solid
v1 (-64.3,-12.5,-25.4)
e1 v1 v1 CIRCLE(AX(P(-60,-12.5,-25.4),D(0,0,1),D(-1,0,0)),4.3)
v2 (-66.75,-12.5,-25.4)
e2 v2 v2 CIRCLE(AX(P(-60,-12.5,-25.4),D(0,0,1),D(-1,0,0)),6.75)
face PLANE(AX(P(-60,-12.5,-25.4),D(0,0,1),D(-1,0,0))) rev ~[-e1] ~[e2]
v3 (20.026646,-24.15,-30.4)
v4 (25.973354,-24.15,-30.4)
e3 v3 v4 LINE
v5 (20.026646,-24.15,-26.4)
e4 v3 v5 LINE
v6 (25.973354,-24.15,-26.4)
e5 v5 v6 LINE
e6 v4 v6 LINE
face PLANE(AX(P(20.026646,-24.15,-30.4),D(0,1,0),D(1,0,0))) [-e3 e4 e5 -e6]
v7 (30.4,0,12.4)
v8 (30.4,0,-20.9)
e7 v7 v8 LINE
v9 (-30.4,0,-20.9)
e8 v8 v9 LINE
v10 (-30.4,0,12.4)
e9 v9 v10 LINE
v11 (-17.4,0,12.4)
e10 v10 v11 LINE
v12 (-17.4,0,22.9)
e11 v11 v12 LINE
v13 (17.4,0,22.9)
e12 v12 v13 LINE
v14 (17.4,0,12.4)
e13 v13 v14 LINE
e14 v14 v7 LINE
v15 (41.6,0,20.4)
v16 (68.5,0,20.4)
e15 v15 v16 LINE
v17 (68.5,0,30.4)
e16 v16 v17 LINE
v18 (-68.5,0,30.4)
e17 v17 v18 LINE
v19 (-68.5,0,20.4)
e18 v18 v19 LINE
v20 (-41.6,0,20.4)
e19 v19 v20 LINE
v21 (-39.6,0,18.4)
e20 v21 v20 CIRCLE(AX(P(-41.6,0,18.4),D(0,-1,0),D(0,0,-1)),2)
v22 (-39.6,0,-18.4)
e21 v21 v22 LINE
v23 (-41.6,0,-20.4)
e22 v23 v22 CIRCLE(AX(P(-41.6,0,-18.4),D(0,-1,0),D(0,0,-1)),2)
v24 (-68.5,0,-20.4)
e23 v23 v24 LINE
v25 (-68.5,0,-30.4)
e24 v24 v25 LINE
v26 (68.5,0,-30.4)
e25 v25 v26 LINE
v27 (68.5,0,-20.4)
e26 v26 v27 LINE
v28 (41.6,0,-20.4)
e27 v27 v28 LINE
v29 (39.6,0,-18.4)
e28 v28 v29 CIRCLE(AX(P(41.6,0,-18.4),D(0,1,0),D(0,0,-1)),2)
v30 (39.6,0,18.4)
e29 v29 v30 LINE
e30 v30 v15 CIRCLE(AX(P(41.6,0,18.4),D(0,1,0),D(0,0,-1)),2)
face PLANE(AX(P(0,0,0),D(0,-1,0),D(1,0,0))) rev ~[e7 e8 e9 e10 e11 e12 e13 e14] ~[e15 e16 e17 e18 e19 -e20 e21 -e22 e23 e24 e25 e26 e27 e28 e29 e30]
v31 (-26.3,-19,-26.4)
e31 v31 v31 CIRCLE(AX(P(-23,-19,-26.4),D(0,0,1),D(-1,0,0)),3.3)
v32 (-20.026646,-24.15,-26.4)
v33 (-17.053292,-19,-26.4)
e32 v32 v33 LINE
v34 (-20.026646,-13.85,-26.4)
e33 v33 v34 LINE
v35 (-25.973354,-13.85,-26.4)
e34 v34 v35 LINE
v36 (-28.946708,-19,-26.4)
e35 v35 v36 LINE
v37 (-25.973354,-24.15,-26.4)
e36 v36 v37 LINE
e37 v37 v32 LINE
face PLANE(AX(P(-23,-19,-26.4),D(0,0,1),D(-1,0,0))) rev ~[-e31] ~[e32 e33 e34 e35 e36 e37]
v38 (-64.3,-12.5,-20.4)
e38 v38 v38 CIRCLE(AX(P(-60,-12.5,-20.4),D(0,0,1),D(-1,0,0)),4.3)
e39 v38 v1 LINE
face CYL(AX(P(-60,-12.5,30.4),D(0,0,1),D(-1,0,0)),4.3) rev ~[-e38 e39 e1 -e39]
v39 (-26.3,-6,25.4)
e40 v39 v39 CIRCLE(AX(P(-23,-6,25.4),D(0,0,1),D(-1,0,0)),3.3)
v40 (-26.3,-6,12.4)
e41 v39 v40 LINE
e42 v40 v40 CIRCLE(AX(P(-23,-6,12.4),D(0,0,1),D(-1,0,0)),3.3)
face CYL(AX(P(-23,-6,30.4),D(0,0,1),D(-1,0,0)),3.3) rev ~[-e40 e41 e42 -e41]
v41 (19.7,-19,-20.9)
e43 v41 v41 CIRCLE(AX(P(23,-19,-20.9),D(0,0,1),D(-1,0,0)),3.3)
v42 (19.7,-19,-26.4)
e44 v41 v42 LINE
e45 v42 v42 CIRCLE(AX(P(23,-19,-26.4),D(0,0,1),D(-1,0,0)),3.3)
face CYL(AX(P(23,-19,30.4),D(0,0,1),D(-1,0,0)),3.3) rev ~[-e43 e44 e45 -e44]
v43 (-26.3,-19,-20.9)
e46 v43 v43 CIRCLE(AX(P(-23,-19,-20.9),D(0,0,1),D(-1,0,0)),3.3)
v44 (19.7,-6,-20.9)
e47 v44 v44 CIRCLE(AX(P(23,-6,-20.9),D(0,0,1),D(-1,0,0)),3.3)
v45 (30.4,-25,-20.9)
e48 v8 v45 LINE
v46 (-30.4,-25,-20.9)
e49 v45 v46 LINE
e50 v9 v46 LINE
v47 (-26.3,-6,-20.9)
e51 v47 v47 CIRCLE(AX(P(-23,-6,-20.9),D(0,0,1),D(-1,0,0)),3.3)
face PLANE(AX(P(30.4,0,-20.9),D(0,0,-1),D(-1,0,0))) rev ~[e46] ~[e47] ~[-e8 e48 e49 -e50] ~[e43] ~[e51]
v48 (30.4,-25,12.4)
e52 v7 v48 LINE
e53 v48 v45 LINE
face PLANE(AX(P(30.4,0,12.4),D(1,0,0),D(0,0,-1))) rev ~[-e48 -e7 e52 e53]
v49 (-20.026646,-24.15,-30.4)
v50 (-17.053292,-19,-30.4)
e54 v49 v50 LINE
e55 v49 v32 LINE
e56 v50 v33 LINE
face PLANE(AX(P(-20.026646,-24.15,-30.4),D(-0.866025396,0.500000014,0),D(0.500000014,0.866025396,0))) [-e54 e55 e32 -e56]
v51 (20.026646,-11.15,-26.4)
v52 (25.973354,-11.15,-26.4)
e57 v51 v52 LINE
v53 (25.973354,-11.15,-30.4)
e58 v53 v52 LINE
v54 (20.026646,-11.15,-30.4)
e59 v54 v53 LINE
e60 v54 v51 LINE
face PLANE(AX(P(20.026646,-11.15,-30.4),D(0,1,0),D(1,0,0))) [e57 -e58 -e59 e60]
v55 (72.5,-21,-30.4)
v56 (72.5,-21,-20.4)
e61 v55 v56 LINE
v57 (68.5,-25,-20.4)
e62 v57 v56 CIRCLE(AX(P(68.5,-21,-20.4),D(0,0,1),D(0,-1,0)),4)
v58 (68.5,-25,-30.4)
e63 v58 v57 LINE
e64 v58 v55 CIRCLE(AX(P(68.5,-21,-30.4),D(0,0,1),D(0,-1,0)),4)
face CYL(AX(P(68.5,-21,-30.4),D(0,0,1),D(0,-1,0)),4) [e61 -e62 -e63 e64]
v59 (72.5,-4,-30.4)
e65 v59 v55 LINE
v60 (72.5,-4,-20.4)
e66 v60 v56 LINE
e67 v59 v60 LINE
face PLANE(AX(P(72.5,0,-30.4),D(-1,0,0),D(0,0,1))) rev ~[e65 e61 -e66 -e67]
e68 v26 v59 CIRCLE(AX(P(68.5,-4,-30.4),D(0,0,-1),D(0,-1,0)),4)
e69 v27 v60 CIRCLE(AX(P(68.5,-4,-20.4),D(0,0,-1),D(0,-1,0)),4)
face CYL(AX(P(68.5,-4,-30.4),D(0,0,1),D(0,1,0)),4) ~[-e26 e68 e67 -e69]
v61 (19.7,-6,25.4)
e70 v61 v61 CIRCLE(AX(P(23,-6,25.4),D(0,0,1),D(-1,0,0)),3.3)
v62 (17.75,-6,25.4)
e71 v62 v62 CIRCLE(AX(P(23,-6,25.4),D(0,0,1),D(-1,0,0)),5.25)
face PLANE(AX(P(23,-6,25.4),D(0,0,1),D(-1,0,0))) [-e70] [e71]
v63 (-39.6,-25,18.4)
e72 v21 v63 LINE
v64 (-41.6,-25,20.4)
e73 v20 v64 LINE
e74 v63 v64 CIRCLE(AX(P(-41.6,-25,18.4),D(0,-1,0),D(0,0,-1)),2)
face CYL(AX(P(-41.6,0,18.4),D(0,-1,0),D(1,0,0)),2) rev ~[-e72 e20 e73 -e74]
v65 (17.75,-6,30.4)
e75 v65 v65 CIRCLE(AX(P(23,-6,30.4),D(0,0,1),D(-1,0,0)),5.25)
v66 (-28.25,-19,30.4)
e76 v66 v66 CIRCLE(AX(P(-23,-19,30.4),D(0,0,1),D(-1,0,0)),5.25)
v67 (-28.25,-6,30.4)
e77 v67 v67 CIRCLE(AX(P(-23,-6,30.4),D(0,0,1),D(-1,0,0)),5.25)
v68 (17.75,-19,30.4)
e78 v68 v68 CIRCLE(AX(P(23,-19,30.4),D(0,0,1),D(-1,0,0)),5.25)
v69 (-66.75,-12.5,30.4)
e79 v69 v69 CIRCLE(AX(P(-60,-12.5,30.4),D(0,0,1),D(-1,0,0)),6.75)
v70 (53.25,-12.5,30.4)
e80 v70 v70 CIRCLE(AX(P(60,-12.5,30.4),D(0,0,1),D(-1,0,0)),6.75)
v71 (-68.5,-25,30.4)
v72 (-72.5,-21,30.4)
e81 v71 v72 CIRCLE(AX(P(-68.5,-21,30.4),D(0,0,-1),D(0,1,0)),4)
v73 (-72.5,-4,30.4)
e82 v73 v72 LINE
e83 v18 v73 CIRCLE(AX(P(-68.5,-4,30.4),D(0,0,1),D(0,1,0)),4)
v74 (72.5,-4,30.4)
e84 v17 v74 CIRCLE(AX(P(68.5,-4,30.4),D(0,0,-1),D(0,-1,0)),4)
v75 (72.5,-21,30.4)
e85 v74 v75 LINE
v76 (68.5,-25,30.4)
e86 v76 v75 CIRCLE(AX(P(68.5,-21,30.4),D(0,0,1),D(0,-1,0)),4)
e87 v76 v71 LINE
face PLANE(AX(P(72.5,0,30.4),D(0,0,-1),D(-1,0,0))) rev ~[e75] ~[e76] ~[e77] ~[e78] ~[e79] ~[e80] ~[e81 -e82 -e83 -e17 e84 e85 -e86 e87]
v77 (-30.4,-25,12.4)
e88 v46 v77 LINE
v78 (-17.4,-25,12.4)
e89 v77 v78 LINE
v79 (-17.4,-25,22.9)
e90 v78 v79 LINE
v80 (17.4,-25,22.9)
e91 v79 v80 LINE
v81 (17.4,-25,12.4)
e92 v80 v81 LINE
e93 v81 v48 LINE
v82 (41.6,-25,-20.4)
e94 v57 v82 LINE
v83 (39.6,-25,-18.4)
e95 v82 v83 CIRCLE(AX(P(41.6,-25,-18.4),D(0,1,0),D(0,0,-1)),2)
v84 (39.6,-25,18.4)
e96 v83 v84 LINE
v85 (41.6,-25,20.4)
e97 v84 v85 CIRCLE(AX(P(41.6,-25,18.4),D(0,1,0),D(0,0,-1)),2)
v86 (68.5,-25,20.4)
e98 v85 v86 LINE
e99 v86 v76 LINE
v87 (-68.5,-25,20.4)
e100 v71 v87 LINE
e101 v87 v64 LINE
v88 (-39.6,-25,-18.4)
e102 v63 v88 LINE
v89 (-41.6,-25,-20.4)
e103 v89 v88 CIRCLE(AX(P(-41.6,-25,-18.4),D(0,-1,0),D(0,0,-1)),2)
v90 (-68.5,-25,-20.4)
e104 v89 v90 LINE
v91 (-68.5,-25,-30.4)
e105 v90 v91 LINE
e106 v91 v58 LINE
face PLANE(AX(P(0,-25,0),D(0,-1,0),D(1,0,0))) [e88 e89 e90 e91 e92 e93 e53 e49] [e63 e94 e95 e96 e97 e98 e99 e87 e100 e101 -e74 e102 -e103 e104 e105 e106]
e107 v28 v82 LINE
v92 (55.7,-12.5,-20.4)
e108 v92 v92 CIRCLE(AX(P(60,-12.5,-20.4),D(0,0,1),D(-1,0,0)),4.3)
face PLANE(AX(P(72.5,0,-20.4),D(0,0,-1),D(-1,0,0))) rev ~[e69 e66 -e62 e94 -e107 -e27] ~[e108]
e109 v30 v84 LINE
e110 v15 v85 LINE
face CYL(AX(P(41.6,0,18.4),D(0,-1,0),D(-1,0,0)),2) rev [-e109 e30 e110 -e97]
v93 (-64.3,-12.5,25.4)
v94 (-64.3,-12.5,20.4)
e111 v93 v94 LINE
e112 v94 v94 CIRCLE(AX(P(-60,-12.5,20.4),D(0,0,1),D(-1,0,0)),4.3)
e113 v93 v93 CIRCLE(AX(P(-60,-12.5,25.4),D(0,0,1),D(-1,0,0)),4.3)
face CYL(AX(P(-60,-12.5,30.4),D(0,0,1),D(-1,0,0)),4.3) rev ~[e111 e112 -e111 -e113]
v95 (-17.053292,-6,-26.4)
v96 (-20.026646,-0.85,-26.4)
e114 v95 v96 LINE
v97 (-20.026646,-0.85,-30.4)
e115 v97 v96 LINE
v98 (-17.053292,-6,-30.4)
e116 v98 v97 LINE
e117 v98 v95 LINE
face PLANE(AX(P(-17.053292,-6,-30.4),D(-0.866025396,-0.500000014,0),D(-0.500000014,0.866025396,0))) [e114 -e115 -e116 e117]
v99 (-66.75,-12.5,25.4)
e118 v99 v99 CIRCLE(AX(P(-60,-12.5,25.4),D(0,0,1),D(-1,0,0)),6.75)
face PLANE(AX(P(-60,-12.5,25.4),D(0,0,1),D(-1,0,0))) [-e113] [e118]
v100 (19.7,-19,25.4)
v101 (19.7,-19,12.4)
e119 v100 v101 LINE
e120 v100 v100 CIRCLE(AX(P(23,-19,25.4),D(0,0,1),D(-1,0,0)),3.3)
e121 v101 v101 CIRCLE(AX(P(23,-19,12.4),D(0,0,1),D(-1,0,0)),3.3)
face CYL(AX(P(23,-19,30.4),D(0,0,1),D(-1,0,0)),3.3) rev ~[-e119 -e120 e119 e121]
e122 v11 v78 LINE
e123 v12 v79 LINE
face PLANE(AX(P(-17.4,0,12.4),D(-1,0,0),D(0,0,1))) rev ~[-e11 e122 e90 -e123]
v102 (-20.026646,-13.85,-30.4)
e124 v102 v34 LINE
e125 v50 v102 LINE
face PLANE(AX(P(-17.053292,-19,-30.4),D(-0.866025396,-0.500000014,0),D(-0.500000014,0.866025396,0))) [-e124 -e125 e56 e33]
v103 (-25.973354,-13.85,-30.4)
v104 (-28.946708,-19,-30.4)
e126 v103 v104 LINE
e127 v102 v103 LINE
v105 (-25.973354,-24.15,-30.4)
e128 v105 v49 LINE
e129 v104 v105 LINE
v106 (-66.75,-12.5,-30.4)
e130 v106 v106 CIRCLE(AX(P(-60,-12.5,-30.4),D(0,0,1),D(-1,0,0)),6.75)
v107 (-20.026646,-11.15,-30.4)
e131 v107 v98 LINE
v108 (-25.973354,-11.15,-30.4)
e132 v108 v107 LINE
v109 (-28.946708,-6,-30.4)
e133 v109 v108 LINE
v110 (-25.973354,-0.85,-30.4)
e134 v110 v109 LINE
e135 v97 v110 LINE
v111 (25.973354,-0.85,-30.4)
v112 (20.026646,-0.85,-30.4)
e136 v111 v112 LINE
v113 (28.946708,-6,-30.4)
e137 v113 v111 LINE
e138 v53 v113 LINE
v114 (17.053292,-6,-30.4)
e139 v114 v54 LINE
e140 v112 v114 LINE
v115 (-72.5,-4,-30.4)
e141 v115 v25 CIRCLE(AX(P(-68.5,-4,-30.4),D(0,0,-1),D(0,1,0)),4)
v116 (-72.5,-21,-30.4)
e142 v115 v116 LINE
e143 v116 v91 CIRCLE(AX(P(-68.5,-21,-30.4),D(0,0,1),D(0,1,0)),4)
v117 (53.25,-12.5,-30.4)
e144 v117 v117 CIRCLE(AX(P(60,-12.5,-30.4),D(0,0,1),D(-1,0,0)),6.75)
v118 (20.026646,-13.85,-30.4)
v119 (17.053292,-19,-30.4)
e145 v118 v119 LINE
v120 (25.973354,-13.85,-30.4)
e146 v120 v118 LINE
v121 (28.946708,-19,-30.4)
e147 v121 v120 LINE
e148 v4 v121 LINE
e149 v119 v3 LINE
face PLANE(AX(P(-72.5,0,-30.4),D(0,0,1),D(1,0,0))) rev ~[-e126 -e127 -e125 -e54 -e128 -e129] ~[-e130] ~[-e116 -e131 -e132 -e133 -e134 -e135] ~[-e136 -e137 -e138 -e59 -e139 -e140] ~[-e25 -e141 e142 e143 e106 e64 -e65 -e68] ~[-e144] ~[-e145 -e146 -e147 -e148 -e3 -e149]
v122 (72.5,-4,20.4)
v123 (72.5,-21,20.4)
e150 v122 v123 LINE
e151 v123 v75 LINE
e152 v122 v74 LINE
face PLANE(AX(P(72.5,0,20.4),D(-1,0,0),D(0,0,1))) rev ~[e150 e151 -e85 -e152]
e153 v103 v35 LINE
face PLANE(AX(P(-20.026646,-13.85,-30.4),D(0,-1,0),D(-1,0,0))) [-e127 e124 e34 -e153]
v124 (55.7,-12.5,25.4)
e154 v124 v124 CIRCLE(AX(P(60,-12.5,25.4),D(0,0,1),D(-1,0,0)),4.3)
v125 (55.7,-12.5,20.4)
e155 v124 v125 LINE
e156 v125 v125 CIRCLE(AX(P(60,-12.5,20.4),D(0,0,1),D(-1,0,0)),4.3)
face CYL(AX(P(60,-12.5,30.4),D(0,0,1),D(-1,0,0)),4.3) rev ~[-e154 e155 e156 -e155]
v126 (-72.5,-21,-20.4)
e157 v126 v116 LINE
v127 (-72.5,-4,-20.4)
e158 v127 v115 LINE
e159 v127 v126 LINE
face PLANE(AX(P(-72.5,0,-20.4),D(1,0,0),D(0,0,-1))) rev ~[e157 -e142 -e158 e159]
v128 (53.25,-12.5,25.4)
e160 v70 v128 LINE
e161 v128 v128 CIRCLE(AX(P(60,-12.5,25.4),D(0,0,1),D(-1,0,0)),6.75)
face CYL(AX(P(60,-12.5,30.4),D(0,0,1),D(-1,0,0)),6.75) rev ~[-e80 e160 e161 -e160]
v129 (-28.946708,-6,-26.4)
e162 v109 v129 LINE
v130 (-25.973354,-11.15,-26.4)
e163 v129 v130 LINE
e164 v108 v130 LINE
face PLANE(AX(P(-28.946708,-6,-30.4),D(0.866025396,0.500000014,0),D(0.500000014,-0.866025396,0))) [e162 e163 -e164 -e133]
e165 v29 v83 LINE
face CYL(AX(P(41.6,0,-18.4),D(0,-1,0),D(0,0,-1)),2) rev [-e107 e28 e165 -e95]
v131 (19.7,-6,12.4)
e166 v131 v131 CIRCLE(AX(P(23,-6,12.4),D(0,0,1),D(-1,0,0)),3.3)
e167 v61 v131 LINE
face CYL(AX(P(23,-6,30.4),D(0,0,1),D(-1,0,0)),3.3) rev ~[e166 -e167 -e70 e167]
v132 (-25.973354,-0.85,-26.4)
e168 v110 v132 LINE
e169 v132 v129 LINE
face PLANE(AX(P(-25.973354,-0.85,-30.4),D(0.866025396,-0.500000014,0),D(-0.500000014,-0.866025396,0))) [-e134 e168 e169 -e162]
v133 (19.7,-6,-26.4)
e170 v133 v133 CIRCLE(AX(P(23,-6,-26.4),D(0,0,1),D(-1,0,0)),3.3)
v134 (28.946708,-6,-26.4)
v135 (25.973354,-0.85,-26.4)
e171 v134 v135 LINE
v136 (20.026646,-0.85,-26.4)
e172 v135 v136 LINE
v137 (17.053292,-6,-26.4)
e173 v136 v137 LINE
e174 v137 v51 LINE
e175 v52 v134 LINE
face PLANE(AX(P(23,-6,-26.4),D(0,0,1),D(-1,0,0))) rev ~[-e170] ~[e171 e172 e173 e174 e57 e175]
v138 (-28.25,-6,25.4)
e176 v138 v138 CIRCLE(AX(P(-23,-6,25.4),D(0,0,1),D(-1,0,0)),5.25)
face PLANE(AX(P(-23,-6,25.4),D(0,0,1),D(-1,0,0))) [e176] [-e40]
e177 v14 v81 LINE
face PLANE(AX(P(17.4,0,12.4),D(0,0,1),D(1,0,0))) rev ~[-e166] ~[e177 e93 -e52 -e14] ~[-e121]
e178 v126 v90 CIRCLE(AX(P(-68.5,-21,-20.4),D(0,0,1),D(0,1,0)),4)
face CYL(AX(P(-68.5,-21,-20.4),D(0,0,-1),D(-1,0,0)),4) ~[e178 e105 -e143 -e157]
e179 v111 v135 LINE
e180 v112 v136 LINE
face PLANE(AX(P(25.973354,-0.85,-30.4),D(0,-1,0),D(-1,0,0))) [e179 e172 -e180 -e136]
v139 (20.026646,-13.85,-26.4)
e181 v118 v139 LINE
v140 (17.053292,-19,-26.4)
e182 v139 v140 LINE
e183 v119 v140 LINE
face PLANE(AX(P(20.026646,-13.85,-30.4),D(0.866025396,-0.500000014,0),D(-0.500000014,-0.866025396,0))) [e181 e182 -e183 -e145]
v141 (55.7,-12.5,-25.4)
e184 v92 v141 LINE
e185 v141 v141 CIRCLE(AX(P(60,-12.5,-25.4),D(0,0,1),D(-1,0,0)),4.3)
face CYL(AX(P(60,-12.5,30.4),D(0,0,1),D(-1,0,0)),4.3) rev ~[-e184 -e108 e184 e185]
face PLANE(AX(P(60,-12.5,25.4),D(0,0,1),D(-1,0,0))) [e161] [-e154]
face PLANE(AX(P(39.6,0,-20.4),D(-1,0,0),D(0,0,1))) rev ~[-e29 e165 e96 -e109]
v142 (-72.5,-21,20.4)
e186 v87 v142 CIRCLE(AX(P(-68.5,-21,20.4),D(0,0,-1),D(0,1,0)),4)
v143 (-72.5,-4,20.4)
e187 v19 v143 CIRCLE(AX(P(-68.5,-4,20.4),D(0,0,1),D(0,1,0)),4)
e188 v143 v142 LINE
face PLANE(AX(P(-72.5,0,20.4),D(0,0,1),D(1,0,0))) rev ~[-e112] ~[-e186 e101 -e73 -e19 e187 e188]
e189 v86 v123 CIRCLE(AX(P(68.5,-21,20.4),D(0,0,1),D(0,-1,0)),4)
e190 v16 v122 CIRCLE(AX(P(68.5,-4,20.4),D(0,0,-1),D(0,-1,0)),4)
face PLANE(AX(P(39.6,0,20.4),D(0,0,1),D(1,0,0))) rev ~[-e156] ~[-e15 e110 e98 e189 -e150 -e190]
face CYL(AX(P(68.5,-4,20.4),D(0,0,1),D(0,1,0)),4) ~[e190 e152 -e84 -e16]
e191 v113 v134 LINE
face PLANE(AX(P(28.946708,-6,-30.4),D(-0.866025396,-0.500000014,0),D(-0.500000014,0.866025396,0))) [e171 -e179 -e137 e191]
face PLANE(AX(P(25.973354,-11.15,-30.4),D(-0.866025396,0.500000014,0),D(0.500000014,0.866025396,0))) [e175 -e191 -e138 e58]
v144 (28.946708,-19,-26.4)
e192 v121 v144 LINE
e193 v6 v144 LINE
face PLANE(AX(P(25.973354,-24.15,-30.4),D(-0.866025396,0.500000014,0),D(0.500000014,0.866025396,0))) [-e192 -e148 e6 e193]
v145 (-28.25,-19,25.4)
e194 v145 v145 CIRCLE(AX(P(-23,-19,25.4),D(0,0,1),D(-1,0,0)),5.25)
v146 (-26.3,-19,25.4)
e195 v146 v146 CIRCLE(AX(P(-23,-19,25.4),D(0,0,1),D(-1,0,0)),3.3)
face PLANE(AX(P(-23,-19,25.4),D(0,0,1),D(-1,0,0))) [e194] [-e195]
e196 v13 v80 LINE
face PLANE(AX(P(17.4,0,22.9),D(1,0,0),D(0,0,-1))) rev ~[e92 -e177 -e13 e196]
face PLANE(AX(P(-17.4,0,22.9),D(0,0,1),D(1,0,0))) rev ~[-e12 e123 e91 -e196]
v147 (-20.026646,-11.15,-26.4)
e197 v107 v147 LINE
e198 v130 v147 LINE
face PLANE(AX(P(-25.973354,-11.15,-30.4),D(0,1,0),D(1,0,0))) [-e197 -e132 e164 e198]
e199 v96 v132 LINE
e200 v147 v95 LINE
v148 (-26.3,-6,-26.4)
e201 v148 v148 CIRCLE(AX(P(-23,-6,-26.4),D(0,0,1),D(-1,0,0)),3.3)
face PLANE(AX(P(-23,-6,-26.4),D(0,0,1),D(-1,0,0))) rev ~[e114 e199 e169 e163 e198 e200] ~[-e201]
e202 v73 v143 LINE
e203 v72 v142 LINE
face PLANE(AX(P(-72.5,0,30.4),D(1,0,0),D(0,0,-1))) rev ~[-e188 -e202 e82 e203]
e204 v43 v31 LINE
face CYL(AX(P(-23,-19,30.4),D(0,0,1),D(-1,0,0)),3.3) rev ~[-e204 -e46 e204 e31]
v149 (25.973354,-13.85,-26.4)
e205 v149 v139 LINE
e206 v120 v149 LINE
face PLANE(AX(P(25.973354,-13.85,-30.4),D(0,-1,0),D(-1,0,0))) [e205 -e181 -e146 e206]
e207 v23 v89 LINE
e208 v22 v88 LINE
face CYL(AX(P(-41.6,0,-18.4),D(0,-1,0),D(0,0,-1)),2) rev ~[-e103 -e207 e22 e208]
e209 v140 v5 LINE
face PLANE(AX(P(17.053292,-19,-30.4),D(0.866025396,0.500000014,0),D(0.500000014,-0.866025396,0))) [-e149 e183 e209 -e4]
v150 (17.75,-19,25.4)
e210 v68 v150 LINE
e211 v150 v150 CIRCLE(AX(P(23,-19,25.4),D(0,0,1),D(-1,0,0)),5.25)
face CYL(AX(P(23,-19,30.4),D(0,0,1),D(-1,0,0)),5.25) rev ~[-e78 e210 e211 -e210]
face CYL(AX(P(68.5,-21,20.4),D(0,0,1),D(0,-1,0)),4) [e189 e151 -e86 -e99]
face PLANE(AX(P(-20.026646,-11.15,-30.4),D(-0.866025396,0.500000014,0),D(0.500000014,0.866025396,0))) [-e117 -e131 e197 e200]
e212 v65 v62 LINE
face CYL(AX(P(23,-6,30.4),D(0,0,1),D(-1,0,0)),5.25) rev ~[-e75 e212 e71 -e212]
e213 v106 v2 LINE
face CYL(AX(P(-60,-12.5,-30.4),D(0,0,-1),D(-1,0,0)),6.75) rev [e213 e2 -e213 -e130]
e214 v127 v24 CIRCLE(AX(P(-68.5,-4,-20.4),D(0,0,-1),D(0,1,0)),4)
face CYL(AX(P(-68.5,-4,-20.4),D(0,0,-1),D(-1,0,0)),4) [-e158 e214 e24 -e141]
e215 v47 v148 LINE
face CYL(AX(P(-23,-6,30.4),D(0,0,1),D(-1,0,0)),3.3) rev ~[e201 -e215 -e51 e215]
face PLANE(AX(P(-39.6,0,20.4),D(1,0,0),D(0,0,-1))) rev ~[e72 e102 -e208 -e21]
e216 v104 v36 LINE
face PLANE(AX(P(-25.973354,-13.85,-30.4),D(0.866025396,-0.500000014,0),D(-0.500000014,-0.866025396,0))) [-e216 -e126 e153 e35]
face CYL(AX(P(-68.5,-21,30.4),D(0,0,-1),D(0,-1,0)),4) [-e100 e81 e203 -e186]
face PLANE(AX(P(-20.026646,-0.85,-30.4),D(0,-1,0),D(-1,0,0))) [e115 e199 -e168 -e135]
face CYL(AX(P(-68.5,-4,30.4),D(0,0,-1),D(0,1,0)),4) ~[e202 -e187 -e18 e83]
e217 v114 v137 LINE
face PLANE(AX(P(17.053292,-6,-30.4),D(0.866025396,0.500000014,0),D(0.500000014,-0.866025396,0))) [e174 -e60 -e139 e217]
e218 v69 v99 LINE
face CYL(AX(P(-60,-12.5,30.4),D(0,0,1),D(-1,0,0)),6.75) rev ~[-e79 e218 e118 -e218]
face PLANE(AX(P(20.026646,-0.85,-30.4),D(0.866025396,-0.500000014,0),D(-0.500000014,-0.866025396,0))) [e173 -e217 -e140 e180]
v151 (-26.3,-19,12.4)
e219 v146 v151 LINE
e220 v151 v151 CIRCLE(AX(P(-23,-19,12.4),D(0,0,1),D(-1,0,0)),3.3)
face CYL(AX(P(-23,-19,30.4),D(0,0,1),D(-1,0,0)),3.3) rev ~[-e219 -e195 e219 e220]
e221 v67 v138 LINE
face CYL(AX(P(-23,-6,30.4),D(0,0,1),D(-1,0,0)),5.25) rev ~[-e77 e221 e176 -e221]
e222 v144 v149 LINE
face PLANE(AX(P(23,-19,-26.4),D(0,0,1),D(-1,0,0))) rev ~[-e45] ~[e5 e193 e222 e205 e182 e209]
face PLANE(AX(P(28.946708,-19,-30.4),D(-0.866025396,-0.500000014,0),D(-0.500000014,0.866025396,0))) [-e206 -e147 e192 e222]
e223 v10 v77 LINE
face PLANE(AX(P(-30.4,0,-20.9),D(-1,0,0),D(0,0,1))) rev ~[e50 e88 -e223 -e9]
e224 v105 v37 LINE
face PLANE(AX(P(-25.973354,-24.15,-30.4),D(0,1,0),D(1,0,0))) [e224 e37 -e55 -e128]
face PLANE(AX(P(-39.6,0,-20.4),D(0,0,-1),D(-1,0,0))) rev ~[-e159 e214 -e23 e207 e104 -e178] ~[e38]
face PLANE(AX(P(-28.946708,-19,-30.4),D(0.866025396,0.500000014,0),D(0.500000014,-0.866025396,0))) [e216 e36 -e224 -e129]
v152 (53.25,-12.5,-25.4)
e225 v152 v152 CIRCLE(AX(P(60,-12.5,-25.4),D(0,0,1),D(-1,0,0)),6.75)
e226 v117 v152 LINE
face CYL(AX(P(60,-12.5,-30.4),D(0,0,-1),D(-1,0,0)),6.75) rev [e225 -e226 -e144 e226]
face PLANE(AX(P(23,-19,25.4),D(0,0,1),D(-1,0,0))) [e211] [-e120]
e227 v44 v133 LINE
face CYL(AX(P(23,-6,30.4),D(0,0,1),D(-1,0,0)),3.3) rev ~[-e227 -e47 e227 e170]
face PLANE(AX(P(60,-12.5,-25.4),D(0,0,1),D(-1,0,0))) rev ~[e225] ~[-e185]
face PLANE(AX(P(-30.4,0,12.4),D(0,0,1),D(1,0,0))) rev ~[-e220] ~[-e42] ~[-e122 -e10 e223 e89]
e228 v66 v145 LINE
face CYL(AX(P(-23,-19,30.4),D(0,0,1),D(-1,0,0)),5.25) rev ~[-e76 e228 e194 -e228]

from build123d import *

# Parameters (mm, degrees)
PAD_DEPTH       = 25
SKETCH001_R     = 4.3
POCKET_DEPTH    = 60.801
SKETCH002_R     = 3.3
POCKET001_DEPTH = 60.801
FILLET_R        = 4
FILLET001_R     = 2
SKETCH003_R     = 6.75
POCKET002_DEPTH = 5
SKETCH004_R     = 6.75
POCKET003_DEPTH = 5
SKETCH005_R     = 5.25
POCKET004_DEPTH = 5
POCKET005_DEPTH = 4


with BuildPart() as part:
    # Sketch → Pad (new body)
    with BuildSketch(Plane.XZ):
        Polygon((-72.5, -30.4), (72.5, -30.4), (72.5, -20.4), (39.6, -20.4), (39.6, 20.4), (72.5, 20.4), (72.5, 30.4), (-72.5, 30.4), (-72.5, 20.4), (-39.6, 20.4), (-39.6, -20.4), (-72.5, -20.4), align=None)
        Polygon((-30.4, -20.9), (-30.4, 12.4), (-17.4, 12.4), (-17.4, 22.9), (17.4, 22.9), (17.4, 12.4), (30.4, 12.4), (30.4, -20.9), align=None, mode=Mode.SUBTRACT)
    extrude(amount=PAD_DEPTH)

    # Sketch001 (on Face7 of Pad) → Pocket (cut, through all)
    with BuildSketch(Plane(origin=(0, 0, 30.4), x_dir=(-1, 0, 0), z_dir=(0, 0, 1))):
        with Locations((-60, 12.5)):
            Circle(SKETCH001_R)
        with Locations((60, 12.5)):
            Circle(SKETCH001_R)
    extrude(amount=-POCKET_DEPTH, mode=Mode.SUBTRACT)

    # Sketch002 (on Face13 of Pocket) → Pocket001 (cut, through all)
    with BuildSketch(Plane(origin=(0, 0, 30.4), x_dir=(-1, 0, 0), z_dir=(0, 0, 1))):
        with Locations((-23, 6)):
            Circle(SKETCH002_R)
        with Locations((-23, 19)):
            Circle(SKETCH002_R)
        with Locations((23, 19)):
            Circle(SKETCH002_R)
        with Locations((23, 6)):
            Circle(SKETCH002_R)
    extrude(amount=-POCKET001_DEPTH, mode=Mode.SUBTRACT)

    # Fillet
    fillet_edges = [part.edges().sort_by_distance(p)[0] for p in [
        (-72.5, -25, 25.4),
        (-72.5, -25, -25.4),
        (72.5, -25, -25.4),
        (72.5, -25, 25.4),
        (-72.5, 0, 25.4),
        (-72.5, 0, -25.4),
        (72.5, 0, -25.4),
        (72.5, 0, 25.4),
    ]]
    fillet(fillet_edges, radius=FILLET_R)

    # Fillet001
    fillet001_edges = [part.edges().sort_by_distance(p)[0] for p in [
        (-39.6, -12.5, -20.4),
        (-39.6, -12.5, 20.4),
        (39.6, -12.5, 20.4),
        (39.6, -12.5, -20.4),
    ]]
    fillet(fillet001_edges, radius=FILLET001_R)

    # Sketch003 (on Face13 of Fillet001) → Pocket002 (cut)
    with BuildSketch(Plane(origin=(0, 0, 30.4), x_dir=(-1, 0, 0), z_dir=(0, 0, 1))):
        with Locations((-60, 12.5)):
            Circle(SKETCH003_R)
        with Locations((60, 12.5)):
            Circle(SKETCH003_R)
    extrude(amount=-POCKET002_DEPTH, mode=Mode.SUBTRACT)

    # Sketch004 (on Face13 of Pocket002) → Pocket003 (cut)
    with BuildSketch(Plane(origin=(0, 0, -30.4), x_dir=(-1, 0, 0), z_dir=(0, 0, 1))):
        with Locations((-60, 12.5)):
            Circle(SKETCH004_R)
        with Locations((60, 12.5)):
            Circle(SKETCH004_R)
    extrude(amount=POCKET003_DEPTH, mode=Mode.SUBTRACT)

    # Sketch005 (on Face13 of Pocket003) → Pocket004 (cut)
    with BuildSketch(Plane(origin=(0, 0, 30.4), x_dir=(-1, 0, 0), z_dir=(0, 0, 1))):
        with Locations((-23, 19)):
            Circle(SKETCH005_R)
        with Locations((-23, 6)):
            Circle(SKETCH005_R)
        with Locations((23, 6)):
            Circle(SKETCH005_R)
        with Locations((23, 19)):
            Circle(SKETCH005_R)
    extrude(amount=-POCKET004_DEPTH, mode=Mode.SUBTRACT)

    # Sketch006 (on Face13 of Pocket004) → Pocket005 (cut)
    with BuildSketch(Plane(origin=(0, 0, -30.4), x_dir=(-1, 0, 0), z_dir=(0, 0, 1))):
        Polygon((-20.026646, 13.85), (-17.053292, 19), (-20.026646, 24.15), (-25.973354, 24.15), (-28.946708, 19), (-25.973354, 13.85), align=None)
        Polygon((-20.026646, 0.85), (-17.053292, 6), (-20.026646, 11.15), (-25.973354, 11.15), (-28.946708, 6), (-25.973354, 0.85), align=None)
        Polygon((25.973354, 13.85), (28.946708, 19), (25.973354, 24.15), (20.026646, 24.15), (17.053292, 19), (20.026646, 13.85), align=None)
        Polygon((25.973354, 0.85), (28.946708, 6), (25.973354, 11.15), (20.026646, 11.15), (17.053292, 6), (20.026646, 0.85), align=None)
    extrude(amount=POCKET005_DEPTH, mode=Mode.SUBTRACT)


solid = part.part
